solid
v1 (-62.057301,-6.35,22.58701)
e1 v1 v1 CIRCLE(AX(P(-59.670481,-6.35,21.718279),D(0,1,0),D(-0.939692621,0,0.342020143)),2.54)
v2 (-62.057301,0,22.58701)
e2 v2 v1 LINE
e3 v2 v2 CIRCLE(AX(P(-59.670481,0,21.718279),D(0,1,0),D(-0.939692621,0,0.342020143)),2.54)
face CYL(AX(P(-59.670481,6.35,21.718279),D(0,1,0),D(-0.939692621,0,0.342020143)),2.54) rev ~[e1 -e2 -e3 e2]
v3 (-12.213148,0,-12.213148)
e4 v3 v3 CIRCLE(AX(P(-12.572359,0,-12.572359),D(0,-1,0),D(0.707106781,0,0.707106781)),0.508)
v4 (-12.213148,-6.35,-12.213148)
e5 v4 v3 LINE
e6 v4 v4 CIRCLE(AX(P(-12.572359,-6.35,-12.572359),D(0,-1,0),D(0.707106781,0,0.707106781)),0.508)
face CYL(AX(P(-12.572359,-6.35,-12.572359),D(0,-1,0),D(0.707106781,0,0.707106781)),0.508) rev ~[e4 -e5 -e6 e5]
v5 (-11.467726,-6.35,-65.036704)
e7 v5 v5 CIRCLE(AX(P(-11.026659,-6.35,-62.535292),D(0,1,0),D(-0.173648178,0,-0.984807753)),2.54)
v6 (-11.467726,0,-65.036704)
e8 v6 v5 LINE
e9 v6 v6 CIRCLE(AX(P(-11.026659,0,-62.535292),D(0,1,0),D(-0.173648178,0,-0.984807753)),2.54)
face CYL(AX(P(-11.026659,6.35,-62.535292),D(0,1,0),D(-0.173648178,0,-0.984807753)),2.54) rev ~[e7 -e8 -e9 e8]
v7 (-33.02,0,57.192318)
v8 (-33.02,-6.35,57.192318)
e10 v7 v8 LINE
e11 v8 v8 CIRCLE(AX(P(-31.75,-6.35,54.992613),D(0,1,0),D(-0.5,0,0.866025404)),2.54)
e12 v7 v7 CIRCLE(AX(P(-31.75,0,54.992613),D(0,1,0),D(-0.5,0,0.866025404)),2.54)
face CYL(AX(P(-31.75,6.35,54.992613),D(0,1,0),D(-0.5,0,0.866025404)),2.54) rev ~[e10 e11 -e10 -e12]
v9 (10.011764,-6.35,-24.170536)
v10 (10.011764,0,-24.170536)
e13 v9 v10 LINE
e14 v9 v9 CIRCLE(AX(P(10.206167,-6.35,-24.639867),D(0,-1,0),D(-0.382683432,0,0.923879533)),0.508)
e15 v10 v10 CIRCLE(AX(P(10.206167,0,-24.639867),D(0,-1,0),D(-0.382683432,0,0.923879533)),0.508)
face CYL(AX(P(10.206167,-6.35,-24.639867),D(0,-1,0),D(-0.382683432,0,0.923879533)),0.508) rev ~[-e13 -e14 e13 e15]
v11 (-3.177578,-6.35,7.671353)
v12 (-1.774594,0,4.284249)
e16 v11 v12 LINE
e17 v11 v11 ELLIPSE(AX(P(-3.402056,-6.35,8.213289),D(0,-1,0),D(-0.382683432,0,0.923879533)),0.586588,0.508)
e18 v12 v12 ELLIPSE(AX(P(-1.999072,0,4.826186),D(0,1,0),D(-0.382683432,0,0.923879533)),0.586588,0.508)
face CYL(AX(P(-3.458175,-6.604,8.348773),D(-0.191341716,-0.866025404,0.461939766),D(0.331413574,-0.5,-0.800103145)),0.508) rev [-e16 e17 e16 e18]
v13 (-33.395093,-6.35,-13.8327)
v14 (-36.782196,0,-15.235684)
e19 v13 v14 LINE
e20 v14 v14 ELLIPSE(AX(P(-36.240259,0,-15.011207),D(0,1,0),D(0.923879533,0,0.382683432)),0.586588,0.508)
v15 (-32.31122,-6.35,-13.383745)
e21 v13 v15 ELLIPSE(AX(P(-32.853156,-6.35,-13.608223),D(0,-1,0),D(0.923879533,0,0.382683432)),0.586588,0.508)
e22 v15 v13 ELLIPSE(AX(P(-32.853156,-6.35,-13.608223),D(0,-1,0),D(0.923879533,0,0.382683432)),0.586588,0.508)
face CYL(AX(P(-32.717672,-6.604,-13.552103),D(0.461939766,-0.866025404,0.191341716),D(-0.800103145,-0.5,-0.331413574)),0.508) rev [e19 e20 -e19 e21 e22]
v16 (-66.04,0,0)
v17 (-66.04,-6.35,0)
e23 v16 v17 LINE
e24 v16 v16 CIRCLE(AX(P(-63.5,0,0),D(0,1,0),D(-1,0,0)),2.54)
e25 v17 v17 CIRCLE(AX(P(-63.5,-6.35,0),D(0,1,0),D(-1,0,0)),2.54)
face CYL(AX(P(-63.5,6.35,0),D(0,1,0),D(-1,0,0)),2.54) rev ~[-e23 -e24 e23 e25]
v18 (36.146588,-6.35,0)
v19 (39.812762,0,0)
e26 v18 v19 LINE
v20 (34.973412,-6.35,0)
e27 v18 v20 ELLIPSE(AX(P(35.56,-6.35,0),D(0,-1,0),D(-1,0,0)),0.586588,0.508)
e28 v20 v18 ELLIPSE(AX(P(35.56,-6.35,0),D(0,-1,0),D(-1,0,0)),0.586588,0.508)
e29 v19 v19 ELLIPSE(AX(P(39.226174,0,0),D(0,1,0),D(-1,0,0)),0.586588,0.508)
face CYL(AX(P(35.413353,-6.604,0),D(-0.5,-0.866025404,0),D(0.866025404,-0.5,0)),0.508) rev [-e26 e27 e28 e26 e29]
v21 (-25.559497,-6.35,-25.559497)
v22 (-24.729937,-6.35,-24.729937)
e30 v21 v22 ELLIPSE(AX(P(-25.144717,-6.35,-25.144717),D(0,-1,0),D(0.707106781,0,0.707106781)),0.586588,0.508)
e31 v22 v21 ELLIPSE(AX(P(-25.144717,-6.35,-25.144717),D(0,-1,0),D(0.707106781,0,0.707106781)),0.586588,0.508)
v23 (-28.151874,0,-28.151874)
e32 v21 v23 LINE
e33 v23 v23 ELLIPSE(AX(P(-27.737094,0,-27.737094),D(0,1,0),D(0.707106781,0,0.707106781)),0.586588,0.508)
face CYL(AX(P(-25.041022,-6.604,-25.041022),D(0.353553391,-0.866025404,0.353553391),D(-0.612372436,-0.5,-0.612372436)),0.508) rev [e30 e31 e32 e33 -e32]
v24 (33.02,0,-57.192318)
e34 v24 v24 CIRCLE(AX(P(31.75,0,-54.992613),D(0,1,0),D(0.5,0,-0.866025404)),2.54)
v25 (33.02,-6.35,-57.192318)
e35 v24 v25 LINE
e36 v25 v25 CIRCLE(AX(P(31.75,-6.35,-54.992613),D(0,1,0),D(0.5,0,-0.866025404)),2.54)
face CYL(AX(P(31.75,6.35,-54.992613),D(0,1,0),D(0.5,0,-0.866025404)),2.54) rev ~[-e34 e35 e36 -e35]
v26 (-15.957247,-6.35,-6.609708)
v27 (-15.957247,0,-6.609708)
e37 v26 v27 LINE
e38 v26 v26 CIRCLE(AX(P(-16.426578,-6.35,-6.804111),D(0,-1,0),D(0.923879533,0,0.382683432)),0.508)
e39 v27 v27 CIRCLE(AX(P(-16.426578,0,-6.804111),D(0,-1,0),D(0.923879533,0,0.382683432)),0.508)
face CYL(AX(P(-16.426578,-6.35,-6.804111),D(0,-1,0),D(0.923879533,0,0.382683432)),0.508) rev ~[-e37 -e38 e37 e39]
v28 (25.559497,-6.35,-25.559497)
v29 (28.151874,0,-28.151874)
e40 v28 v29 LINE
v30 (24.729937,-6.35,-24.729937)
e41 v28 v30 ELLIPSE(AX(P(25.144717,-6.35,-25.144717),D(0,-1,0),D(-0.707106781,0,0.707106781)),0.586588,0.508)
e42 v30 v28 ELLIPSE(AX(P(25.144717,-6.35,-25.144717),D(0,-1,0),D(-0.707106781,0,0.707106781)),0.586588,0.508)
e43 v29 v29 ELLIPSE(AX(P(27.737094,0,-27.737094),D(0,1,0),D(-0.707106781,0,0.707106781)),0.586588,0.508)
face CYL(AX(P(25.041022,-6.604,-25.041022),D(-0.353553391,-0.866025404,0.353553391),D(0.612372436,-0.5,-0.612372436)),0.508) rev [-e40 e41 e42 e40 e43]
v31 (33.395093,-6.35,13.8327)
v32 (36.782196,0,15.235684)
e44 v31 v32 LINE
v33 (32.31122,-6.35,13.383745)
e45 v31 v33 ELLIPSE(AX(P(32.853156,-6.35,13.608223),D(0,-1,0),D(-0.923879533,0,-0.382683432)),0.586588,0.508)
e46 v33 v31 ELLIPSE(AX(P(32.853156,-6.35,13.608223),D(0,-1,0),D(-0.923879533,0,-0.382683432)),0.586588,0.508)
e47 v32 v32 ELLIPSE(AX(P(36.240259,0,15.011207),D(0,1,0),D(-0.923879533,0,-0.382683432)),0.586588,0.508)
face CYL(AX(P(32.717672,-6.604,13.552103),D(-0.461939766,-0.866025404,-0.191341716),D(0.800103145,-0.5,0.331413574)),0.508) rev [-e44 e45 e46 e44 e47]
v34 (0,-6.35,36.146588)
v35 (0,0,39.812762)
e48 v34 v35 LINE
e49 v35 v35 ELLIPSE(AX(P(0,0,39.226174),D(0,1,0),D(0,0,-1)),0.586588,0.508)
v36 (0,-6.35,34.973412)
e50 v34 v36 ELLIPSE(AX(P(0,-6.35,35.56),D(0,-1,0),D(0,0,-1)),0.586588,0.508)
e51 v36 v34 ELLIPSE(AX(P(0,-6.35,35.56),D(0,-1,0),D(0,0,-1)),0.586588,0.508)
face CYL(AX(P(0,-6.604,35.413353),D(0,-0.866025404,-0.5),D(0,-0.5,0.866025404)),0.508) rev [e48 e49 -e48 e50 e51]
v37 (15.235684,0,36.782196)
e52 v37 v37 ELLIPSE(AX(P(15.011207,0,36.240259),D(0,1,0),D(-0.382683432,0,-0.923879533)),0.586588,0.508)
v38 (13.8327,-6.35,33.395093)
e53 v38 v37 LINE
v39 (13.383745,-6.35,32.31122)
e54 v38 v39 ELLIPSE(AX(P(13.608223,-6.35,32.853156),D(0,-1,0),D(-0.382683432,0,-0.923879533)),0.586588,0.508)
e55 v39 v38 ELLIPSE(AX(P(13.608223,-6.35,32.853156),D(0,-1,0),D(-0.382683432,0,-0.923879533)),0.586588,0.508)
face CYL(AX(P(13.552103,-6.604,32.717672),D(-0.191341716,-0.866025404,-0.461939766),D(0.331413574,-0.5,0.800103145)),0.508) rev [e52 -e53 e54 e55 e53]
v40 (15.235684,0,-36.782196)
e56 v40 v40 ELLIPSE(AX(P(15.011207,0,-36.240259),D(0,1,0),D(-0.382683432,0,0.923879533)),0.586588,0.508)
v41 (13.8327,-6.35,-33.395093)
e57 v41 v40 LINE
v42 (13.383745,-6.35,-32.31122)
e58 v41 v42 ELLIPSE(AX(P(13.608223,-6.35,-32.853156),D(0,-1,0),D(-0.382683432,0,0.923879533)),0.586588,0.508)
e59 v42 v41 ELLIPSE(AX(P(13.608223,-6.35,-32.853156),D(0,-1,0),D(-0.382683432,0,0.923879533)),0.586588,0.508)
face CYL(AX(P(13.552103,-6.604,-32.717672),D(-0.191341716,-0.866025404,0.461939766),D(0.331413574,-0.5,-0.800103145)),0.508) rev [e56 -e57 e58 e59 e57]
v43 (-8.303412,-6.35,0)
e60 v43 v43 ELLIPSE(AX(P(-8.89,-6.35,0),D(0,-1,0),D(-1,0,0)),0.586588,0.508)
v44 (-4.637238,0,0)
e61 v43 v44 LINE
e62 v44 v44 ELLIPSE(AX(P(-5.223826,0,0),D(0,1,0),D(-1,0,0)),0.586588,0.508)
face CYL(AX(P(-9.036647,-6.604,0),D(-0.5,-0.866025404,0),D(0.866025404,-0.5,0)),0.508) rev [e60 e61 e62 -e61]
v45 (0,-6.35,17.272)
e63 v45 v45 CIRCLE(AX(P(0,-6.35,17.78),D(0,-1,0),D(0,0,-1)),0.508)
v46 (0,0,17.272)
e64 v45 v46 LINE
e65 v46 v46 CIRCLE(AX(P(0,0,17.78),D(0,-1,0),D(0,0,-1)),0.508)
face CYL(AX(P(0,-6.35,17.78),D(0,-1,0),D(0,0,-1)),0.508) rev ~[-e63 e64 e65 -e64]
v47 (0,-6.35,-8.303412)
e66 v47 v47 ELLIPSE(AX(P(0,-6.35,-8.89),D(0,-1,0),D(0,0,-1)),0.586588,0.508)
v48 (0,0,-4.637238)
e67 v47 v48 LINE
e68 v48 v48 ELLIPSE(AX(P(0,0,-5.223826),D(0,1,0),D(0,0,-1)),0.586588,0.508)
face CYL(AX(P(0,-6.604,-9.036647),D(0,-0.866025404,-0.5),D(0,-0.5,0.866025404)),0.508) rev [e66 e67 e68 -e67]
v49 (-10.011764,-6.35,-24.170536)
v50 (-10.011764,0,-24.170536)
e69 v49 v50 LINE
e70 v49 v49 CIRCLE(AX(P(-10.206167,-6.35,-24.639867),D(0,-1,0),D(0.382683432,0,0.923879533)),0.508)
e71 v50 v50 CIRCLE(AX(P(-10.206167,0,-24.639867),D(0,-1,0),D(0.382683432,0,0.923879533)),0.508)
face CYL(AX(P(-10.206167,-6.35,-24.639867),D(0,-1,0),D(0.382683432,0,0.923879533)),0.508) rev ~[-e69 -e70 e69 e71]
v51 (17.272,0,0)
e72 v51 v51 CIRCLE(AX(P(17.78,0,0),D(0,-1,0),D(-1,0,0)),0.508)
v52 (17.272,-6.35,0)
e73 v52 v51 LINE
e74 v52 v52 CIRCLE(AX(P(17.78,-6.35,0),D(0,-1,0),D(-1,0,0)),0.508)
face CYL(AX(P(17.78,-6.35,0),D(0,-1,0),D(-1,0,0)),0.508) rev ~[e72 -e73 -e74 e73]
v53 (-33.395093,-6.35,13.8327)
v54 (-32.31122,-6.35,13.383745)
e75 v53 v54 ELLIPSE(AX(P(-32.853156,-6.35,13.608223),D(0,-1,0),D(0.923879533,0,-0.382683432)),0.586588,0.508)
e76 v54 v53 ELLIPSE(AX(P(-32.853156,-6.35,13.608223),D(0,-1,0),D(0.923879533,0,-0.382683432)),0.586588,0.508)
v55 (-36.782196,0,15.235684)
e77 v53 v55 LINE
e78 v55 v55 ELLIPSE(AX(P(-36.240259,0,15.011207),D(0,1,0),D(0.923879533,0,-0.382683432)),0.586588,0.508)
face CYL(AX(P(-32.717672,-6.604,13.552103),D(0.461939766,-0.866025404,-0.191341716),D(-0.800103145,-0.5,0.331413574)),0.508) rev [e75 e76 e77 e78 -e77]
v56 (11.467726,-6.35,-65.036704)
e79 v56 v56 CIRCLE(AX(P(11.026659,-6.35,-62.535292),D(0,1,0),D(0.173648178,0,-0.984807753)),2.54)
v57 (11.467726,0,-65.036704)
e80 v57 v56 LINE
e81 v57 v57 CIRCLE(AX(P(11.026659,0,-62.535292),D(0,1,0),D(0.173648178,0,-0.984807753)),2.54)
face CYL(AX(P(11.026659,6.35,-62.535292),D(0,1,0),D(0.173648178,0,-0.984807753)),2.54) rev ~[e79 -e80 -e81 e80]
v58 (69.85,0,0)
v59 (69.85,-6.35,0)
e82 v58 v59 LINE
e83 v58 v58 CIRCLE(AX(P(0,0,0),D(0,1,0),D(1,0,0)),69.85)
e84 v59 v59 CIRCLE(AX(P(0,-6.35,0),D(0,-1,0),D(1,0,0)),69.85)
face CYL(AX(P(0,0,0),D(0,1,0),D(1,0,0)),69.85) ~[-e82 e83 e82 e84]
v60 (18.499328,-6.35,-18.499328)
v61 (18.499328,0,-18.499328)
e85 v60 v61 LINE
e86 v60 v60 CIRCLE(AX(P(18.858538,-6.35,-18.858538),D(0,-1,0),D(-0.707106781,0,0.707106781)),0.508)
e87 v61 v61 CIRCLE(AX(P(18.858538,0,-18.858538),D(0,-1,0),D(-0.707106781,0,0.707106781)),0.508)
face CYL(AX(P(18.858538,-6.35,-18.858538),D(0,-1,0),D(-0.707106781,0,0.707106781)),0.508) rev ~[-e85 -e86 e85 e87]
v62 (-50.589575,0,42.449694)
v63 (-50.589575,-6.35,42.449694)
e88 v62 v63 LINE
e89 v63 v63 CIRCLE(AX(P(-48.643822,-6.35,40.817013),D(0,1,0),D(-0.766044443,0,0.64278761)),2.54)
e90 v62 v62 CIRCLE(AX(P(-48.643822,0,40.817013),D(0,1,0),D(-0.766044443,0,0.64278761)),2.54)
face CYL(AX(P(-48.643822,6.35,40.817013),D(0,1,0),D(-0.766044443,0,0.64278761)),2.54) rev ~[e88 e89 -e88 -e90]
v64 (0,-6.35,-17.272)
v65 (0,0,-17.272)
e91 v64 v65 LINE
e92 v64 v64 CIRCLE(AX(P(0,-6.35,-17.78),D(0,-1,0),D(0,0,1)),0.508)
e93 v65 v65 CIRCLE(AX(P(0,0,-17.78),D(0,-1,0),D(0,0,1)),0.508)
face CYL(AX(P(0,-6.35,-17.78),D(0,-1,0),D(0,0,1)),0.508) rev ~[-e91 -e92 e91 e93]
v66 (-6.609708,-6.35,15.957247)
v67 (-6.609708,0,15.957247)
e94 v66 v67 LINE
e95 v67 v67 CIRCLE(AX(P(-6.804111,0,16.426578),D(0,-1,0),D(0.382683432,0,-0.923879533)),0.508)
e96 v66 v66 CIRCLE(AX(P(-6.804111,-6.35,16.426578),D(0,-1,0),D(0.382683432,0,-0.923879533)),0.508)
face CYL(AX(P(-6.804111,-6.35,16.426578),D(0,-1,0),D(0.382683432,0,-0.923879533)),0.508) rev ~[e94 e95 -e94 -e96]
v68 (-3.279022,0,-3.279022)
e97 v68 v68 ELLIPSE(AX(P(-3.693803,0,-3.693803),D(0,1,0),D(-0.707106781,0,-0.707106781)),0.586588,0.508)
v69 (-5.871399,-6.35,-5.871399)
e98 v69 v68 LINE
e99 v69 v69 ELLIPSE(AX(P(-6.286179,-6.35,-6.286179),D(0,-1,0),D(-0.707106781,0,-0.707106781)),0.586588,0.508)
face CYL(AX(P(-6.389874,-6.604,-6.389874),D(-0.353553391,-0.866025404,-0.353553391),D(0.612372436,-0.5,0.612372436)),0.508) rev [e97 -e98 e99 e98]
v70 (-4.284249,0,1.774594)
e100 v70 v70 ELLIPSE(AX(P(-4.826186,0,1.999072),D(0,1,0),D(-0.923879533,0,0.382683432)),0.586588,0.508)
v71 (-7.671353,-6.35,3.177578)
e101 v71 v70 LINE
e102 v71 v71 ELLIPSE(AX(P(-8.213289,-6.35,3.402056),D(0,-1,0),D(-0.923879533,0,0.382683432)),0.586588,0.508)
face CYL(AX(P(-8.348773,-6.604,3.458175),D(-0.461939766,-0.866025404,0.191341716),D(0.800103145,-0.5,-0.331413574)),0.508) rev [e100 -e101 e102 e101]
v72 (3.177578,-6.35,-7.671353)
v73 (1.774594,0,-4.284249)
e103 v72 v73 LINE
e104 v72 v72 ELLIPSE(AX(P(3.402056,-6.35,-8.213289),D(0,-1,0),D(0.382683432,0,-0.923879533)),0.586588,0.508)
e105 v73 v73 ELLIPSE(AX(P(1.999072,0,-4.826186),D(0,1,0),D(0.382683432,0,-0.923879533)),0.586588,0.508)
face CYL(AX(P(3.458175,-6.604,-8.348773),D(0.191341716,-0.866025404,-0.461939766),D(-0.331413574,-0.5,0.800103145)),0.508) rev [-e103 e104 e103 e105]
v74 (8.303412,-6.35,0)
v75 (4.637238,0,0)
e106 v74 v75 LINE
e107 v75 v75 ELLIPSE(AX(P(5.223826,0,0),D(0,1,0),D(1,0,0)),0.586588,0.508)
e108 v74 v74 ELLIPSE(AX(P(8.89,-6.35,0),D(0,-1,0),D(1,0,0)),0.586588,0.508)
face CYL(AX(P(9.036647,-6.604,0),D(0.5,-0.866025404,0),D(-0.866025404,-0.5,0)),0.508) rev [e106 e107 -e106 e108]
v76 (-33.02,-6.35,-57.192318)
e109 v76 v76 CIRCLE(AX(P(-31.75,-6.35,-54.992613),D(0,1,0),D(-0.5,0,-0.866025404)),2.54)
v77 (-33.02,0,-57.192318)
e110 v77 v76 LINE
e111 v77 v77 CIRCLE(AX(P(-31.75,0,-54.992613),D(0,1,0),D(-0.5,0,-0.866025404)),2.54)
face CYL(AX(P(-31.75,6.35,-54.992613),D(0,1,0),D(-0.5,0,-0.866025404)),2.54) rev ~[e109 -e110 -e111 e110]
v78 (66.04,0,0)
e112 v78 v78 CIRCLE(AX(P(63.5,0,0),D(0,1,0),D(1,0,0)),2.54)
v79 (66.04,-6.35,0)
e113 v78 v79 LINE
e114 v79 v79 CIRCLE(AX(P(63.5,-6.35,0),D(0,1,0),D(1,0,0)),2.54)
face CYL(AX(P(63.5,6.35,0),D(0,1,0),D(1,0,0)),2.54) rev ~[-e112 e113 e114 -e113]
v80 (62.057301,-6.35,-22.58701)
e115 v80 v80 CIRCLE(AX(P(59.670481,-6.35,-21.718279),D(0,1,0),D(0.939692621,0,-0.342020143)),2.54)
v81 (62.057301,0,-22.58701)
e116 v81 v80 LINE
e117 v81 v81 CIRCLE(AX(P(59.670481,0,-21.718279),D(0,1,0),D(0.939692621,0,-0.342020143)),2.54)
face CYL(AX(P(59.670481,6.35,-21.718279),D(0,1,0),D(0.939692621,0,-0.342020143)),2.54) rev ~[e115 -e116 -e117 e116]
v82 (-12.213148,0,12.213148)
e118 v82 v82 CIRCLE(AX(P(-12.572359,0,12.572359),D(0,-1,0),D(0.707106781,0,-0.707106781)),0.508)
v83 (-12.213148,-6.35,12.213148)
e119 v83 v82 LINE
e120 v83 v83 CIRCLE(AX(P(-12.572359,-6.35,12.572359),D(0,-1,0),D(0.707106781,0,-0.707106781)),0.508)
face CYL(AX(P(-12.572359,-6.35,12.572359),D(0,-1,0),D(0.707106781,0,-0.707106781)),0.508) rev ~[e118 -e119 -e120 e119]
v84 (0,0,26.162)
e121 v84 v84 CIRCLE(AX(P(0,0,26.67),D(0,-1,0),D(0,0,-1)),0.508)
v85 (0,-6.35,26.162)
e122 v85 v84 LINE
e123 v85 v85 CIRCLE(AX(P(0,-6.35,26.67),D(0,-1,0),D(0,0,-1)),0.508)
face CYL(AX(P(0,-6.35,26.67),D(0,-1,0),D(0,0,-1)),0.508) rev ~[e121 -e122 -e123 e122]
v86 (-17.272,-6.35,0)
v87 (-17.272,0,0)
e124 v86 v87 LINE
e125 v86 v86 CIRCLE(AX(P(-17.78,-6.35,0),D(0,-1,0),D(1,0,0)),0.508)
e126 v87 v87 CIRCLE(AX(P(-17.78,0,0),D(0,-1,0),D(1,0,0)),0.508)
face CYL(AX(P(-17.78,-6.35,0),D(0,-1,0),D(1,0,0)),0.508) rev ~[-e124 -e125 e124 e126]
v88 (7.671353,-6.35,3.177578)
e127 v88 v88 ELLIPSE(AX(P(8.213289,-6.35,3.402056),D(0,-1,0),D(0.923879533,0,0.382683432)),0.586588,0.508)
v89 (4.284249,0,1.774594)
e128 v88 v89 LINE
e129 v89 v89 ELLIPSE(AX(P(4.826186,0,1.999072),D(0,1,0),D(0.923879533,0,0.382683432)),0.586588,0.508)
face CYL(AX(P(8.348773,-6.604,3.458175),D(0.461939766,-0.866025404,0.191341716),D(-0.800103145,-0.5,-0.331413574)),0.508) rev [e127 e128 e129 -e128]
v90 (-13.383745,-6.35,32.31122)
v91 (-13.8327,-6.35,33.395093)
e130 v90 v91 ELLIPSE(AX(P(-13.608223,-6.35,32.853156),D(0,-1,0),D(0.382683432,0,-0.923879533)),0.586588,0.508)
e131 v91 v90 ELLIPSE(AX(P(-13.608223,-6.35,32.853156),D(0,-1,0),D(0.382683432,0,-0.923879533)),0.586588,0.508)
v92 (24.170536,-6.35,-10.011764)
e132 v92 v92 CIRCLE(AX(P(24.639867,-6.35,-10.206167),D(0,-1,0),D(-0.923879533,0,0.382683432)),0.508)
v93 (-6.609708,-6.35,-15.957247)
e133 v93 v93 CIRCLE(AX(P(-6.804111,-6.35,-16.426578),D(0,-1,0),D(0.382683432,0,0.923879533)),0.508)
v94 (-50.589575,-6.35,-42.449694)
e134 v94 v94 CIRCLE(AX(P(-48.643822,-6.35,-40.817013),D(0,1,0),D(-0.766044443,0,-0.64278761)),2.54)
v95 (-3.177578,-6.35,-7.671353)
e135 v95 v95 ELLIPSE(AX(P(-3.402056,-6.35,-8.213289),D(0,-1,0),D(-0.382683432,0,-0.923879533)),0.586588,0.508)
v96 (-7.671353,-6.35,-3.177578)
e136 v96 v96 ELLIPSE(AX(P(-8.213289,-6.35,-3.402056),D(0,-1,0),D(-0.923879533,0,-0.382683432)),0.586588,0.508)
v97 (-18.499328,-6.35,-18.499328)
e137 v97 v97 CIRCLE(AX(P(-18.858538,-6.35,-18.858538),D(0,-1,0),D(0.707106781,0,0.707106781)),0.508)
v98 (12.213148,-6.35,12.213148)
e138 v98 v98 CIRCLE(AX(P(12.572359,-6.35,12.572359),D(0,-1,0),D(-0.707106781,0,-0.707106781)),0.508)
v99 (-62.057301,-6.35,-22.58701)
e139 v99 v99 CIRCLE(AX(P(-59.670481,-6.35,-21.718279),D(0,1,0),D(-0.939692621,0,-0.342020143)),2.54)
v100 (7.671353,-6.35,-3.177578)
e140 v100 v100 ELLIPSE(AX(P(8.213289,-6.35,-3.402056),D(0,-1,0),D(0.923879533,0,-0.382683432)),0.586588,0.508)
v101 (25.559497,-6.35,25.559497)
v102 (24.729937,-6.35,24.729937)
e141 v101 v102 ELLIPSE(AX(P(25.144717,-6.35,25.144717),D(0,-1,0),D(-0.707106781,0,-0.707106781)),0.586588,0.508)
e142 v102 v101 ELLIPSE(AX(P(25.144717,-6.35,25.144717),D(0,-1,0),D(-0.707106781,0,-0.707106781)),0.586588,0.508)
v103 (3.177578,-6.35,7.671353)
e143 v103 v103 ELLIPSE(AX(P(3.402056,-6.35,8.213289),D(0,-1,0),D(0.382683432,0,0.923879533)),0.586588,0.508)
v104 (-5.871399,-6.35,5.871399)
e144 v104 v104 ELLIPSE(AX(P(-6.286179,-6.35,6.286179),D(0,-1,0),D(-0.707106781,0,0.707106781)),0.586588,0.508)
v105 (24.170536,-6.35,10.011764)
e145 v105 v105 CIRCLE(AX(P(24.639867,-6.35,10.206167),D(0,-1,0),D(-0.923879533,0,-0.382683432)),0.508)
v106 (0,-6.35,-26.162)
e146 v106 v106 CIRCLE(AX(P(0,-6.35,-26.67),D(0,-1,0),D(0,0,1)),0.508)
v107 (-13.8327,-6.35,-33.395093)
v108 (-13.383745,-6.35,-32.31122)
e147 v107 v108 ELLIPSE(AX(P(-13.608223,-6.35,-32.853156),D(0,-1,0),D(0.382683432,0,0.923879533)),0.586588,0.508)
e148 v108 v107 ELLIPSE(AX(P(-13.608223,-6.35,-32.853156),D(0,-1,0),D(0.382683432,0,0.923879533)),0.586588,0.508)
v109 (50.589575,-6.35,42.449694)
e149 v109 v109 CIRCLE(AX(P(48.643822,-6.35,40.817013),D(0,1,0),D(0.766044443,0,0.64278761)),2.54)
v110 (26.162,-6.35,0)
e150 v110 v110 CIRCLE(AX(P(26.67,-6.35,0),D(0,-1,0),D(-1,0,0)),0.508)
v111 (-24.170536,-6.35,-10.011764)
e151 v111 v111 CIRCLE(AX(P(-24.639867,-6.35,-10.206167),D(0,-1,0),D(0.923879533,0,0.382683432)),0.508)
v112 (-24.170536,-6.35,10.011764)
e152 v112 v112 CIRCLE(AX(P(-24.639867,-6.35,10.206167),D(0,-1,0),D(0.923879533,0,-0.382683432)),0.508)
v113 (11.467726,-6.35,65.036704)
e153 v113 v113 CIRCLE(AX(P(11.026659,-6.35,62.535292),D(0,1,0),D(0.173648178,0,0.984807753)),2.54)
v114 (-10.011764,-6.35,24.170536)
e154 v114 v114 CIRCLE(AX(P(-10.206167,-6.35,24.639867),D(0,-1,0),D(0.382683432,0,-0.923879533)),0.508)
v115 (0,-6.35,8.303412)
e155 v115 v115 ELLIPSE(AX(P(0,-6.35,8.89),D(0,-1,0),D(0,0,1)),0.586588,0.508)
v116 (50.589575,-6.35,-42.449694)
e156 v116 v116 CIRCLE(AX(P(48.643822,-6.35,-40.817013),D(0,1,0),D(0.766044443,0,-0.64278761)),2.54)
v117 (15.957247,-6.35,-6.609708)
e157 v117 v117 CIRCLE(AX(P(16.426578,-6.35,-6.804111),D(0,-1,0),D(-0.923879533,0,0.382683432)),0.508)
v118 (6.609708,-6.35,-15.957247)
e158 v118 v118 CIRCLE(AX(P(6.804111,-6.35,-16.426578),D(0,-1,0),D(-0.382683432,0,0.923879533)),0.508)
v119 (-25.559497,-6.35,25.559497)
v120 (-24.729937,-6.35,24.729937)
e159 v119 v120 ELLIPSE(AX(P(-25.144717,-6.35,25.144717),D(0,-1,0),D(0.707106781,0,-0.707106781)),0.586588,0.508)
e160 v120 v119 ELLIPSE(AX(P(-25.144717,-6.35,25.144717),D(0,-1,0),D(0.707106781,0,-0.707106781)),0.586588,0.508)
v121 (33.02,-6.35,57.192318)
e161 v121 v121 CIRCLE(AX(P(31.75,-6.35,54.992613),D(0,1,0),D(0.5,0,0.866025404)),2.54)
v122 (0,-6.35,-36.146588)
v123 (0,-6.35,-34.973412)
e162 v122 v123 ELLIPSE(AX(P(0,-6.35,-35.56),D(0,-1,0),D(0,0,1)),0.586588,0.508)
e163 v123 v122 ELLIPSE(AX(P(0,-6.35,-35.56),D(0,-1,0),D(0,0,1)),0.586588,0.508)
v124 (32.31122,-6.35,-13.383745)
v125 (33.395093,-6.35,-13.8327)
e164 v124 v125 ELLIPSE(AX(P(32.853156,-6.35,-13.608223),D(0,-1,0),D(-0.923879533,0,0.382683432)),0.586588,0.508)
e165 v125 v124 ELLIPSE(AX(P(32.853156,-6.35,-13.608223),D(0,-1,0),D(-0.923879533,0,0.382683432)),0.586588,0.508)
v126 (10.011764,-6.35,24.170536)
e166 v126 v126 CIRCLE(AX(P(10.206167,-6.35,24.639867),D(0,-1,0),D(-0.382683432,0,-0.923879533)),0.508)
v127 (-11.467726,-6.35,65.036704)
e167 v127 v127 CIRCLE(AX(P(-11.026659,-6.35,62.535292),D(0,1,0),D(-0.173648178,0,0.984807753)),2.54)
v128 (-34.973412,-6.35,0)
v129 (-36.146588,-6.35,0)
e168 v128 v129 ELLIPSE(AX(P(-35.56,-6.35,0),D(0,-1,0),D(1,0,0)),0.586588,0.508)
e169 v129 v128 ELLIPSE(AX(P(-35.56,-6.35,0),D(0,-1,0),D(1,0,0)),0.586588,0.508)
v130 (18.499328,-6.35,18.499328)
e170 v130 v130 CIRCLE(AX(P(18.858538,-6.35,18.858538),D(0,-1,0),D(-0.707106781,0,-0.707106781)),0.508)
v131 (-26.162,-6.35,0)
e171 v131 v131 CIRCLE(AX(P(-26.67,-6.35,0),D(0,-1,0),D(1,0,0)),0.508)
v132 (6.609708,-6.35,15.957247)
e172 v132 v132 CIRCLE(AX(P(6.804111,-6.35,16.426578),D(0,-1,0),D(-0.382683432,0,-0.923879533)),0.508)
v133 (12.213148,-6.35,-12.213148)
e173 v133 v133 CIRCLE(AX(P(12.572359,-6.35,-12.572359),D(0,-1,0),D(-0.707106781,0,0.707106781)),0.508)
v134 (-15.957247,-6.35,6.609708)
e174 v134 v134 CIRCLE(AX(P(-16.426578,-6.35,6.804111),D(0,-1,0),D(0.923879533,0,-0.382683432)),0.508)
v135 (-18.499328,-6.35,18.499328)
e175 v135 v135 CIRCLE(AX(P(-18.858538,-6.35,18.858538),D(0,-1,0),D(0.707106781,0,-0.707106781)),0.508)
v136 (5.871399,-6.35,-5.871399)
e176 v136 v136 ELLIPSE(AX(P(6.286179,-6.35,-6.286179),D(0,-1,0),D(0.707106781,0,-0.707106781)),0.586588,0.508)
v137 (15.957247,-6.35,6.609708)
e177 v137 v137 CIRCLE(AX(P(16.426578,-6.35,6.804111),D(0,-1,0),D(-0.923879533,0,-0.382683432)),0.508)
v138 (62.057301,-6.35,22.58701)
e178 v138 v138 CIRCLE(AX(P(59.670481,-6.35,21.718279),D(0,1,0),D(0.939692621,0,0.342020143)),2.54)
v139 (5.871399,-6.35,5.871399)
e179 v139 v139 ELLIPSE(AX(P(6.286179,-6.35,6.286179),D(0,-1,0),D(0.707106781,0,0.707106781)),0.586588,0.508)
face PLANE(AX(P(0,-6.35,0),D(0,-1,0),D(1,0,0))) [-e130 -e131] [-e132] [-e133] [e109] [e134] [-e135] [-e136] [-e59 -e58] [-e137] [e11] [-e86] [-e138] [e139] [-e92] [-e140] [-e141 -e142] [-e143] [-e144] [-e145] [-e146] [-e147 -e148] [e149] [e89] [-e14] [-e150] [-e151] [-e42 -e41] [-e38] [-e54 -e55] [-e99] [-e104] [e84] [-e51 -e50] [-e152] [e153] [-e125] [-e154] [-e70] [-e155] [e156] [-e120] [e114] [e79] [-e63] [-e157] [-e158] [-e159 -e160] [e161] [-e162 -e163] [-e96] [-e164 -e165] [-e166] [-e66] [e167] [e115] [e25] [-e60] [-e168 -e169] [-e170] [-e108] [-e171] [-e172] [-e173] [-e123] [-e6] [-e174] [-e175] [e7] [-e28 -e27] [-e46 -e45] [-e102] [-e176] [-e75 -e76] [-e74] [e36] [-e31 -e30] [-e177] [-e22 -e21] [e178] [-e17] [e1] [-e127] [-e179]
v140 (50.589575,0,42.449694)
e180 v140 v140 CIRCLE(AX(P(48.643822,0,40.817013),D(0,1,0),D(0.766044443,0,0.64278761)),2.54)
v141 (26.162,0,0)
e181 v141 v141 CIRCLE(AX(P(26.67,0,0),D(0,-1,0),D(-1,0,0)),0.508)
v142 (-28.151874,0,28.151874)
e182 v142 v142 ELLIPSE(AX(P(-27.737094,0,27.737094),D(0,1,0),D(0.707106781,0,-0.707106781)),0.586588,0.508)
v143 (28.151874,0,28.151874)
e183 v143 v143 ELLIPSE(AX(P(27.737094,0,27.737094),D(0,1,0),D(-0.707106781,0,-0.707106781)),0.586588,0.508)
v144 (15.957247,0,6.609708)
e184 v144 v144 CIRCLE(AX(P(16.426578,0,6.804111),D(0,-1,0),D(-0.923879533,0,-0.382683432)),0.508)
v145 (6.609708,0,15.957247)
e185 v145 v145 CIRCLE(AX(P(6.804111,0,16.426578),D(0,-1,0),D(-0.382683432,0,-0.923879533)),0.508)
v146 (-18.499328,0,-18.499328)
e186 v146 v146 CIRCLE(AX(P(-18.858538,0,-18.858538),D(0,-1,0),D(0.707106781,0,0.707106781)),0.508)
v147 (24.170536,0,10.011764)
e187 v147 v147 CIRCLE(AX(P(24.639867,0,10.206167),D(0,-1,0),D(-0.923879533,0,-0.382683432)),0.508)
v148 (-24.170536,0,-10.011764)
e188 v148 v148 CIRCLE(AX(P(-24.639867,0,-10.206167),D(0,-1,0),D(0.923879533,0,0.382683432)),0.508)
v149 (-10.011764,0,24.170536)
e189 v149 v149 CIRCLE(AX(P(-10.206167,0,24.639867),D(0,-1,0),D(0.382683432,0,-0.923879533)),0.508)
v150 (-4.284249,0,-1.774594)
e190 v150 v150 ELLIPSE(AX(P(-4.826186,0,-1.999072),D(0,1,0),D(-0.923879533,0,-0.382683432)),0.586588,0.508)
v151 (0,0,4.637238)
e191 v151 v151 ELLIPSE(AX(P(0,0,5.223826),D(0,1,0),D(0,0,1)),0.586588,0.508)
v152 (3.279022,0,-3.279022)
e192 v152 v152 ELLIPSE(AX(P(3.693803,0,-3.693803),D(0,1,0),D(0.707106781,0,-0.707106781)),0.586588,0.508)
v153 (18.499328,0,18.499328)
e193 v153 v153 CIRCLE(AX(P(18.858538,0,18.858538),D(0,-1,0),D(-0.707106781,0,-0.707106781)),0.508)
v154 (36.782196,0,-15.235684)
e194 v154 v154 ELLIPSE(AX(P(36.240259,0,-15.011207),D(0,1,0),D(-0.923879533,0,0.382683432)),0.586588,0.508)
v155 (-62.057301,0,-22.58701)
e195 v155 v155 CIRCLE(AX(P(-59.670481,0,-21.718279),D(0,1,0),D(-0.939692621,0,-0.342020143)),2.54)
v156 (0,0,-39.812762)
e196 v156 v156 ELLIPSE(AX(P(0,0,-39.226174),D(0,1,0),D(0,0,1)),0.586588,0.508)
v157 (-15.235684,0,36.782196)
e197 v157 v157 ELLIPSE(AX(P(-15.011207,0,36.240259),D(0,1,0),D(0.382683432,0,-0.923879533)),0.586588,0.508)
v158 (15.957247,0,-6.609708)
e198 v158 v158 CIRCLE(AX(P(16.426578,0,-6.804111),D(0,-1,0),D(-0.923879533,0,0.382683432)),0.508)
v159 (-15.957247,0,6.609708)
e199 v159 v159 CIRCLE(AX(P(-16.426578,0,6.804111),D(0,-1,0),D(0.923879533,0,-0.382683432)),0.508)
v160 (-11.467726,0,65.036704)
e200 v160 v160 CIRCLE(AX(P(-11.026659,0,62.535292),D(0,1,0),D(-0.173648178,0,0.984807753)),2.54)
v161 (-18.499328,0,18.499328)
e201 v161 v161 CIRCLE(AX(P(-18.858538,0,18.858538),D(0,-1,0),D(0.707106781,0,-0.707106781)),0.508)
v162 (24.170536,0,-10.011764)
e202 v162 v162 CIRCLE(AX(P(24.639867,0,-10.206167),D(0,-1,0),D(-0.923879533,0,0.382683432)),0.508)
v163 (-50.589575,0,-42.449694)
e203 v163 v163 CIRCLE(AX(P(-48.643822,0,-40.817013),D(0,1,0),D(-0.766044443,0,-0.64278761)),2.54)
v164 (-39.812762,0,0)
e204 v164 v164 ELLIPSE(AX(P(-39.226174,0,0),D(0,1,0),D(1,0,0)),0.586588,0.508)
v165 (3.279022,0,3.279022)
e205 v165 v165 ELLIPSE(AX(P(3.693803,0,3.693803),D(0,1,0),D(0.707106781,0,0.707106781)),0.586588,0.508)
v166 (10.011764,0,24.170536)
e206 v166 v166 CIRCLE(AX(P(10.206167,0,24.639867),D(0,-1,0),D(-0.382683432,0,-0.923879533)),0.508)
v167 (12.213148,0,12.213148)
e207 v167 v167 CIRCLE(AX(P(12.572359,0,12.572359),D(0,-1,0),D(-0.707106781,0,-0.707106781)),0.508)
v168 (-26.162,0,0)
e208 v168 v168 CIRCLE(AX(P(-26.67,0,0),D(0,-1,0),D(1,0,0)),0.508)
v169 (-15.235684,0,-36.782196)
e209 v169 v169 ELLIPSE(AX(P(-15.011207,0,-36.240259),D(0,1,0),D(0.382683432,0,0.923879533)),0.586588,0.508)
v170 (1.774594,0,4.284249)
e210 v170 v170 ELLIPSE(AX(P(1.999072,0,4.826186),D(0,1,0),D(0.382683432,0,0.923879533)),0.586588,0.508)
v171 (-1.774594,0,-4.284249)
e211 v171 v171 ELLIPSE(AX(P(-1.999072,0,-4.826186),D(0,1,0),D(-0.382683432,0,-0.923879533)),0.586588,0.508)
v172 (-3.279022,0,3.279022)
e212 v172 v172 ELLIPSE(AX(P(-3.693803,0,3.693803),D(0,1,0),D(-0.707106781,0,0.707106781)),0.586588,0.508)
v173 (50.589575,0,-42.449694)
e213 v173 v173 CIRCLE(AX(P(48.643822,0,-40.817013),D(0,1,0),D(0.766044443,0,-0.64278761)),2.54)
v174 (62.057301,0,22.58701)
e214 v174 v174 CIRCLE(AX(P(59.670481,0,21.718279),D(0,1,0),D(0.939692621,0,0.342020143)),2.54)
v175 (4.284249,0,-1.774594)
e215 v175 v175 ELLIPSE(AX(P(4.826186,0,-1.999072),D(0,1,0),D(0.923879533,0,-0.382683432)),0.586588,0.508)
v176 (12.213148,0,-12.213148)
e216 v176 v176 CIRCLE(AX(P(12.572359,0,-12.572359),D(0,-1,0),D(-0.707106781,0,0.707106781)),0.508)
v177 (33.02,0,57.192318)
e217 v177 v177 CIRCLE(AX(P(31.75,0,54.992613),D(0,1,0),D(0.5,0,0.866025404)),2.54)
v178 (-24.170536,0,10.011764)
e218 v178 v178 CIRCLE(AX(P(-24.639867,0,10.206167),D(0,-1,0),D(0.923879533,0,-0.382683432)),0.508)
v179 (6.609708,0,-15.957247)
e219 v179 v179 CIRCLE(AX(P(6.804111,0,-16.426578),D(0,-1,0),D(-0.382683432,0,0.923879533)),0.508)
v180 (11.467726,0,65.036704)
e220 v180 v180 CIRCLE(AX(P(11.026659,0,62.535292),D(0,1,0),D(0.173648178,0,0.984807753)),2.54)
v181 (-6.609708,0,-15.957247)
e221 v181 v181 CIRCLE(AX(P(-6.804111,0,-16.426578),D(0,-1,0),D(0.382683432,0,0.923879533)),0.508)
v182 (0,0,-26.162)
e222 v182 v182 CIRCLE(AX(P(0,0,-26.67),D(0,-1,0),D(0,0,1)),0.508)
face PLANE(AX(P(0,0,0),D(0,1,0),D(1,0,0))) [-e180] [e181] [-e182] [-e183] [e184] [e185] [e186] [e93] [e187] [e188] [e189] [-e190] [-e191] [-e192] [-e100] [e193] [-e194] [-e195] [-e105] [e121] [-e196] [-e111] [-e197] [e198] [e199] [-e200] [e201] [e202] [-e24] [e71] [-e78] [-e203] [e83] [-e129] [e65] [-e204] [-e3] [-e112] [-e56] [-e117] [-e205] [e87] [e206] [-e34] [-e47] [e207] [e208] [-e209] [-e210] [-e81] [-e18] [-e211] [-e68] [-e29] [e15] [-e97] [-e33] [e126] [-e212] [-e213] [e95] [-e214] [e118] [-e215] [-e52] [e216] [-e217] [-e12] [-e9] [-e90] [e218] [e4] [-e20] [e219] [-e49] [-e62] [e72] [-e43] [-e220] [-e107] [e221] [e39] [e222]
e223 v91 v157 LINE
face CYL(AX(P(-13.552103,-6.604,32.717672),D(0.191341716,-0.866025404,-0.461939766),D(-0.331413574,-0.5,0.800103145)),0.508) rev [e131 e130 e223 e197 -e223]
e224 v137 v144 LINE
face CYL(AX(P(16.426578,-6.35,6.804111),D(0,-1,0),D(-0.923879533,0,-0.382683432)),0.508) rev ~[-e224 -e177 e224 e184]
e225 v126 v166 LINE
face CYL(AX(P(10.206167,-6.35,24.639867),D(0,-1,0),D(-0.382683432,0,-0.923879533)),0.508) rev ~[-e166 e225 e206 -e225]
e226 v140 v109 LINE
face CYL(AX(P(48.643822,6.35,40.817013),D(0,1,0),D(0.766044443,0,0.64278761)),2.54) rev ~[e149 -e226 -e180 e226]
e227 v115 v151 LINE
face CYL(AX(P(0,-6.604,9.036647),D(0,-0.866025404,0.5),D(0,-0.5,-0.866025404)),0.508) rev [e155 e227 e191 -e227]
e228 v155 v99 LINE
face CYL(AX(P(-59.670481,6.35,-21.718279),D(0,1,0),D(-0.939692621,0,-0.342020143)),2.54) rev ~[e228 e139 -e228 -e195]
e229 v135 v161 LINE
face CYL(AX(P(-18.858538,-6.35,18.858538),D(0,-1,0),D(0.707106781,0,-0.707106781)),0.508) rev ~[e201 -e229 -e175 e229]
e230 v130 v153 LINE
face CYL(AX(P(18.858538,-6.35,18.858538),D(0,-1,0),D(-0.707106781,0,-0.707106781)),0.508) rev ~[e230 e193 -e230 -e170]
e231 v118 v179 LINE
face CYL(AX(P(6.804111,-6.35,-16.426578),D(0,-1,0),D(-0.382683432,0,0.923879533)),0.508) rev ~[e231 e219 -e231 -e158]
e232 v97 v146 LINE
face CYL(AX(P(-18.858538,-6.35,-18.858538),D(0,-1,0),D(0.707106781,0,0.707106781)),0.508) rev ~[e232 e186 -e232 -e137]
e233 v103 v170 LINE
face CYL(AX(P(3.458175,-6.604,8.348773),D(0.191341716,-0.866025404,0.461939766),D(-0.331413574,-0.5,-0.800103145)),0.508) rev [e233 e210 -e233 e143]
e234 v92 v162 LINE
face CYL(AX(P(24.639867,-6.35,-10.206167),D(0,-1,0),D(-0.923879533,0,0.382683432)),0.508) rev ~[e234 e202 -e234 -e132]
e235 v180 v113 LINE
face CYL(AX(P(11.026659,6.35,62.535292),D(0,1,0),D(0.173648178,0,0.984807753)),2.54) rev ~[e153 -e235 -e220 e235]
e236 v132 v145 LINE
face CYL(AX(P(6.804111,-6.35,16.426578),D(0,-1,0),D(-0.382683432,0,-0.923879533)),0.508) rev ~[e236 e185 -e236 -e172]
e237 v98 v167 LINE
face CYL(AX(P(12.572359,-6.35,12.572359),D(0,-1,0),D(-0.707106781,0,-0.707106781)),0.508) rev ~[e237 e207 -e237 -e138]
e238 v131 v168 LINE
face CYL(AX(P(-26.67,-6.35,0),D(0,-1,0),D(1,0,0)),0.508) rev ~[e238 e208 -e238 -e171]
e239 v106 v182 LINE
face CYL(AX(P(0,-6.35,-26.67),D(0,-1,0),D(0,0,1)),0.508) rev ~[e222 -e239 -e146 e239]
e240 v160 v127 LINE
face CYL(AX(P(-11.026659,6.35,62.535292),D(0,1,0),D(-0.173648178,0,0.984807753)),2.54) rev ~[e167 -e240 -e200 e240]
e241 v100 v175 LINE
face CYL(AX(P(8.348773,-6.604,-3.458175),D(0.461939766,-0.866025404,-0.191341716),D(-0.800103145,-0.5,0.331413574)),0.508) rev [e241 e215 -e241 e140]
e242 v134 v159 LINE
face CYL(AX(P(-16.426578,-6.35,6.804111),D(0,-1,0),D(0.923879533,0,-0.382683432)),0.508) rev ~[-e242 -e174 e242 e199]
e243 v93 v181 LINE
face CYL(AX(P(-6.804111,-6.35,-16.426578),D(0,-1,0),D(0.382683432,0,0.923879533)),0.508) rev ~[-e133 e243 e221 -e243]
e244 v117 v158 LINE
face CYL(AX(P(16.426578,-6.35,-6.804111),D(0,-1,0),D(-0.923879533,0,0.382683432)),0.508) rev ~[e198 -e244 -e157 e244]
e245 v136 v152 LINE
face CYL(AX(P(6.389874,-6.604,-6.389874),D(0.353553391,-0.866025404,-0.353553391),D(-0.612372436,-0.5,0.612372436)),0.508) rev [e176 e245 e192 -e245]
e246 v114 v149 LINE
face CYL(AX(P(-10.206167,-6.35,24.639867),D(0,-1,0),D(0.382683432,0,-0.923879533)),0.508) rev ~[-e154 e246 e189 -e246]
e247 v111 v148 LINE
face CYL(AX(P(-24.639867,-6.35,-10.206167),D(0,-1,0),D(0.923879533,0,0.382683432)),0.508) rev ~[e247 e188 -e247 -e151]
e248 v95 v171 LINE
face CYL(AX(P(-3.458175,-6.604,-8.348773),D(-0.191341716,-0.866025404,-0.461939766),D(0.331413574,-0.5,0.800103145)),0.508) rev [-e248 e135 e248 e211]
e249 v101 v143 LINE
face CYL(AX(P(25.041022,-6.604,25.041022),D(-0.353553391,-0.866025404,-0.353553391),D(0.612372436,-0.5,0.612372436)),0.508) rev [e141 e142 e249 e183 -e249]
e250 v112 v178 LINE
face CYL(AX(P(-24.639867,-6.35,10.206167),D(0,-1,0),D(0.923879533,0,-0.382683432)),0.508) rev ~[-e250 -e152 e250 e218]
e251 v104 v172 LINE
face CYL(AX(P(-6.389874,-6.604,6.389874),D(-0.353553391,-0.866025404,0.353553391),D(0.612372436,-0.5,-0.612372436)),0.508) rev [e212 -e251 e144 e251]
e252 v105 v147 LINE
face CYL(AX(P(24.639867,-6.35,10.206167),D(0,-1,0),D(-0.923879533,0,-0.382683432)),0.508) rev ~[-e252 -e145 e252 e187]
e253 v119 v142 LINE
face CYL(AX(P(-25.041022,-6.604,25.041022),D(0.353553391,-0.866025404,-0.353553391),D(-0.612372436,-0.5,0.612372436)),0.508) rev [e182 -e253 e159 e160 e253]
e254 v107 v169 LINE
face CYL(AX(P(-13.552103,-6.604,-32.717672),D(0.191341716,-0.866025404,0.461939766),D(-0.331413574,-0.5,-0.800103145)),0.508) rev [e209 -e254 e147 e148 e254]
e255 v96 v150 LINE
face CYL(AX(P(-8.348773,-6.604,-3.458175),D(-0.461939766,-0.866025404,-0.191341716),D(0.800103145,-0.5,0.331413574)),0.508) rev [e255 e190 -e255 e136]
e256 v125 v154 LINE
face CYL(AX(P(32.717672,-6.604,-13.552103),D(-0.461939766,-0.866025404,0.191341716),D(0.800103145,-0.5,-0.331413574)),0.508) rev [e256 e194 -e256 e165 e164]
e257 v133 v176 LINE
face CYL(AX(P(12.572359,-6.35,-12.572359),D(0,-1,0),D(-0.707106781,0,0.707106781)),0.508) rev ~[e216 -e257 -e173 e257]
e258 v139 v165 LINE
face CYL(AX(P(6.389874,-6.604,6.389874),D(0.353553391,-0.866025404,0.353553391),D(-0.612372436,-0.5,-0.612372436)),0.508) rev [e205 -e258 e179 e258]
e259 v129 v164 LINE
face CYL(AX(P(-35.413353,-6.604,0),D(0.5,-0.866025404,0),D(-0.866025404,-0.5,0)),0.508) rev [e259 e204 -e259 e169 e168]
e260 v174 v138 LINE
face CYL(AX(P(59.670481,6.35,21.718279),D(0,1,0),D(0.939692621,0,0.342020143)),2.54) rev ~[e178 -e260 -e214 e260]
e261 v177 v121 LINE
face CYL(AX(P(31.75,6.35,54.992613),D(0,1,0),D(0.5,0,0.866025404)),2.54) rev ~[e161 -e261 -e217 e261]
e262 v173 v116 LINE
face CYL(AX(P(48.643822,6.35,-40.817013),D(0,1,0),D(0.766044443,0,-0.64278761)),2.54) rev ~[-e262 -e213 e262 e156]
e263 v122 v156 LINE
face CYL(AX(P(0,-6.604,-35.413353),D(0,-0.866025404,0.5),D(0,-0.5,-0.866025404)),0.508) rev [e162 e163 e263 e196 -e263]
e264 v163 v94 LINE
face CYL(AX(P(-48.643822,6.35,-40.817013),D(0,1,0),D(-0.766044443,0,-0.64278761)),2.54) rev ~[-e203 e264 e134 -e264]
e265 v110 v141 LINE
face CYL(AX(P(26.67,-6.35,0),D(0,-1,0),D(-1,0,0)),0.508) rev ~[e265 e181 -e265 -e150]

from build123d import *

# Parameters (mm, degrees)
SKETCH1_R           = 69.85
BOSS_EXTRUDE1_DEPTH = 6.35
SKETCH2_R           = 69.85
BOSS_EXTRUDE2_DEPTH = 6.35
SKETCH4_R           = 6.35
CUT_EXTRUDE1_DEPTH  = 6.35
SKETCH5_R           = 26.19375
SKETCH5_R_2         = 12.7
CUT_EXTRUDE2_DEPTH  = 6.35
SKETCH6_R           = 36.83
SKETCH6_R_2         = 31.75
CUT_EXTRUDE3_DEPTH  = 6.35
CUT_EXTRUDE4_START  = 8.505524
SKETCH8_R           = 0.508
CUT_EXTRUDE4_DEPTH  = 15.251285
SKETCH9_R           = 0.508
CUT_EXTRUDE5_DEPTH  = 12.7
CUT_EXTRUDE6_START  = 11.006381
SKETCH11_R          = 0.508
CUT_EXTRUDE6_DEPTH  = 7.918937
CIRPATTERN1_COUNT   = 16
SKETCH12_R          = 2.54
CUT_EXTRUDE7_DEPTH  = 13.7
CIRPATTERN2_COUNT   = 18
SKETCH13_R          = 10.3632
SKETCH13_R_2        = 7.7216
CUT_EXTRUDE8_DEPTH  = 1.3208
SKETCH14_R          = 30.2133
SKETCH14_R_2        = 27.5717
CUT_EXTRUDE9_DEPTH  = 1.3208
SKETCH16_R          = 46.0883
SKETCH16_R_2        = 43.4467
CUT_EXTRUDE10_DEPTH = 1.3208
SKETCH20_R          = 69.85
CUT_EXTRUDE11_DEPTH = 6.35


with BuildPart() as part:
    # Sketch1 → Boss-Extrude1 (new body)
    with BuildSketch(Plane(origin=(0, 0, 0), x_dir=(1, 0, 0), z_dir=(0, 1, 0))):
        Circle(SKETCH1_R)
    extrude(amount=BOSS_EXTRUDE1_DEPTH)

    # Sketch2 → Boss-Extrude2 (add)
    with BuildSketch(Plane.XZ):
        Circle(SKETCH2_R)
    extrude(amount=BOSS_EXTRUDE2_DEPTH)

    # Sketch4 → Cut-Extrude1 (cut)
    with BuildSketch(Plane(origin=(0, 6.35, 0), x_dir=(1, 0, 0), z_dir=(0, 1, 0))):
        Circle(SKETCH4_R)
    extrude(amount=-CUT_EXTRUDE1_DEPTH, mode=Mode.SUBTRACT)

    # Sketch5 → Cut-Extrude2 (cut)
    with BuildSketch(Plane(origin=(0, 6.35, 0), x_dir=(1, 0, 0), z_dir=(0, 1, 0))):
        Circle(SKETCH5_R)
        Circle(SKETCH5_R_2, mode=Mode.SUBTRACT)
    extrude(amount=-CUT_EXTRUDE2_DEPTH, mode=Mode.SUBTRACT)

    # Sketch6 → Cut-Extrude3 (cut)
    with BuildSketch(Plane(origin=(0, 6.35, 0), x_dir=(1, 0, 0), z_dir=(0, 1, 0))):
        Circle(SKETCH6_R)
        Circle(SKETCH6_R_2, mode=Mode.SUBTRACT)
    extrude(amount=-CUT_EXTRUDE3_DEPTH, mode=Mode.SUBTRACT)

    # Sketch8 → Cut-Extrude4 (cut)
    with BuildSketch(Plane(origin=(-1.740960292, 3.015431679, 0), x_dir=(-0.866025404, -0.5, 0), z_dir=(-0.5, 0.866025404, 0)).offset(CUT_EXTRUDE4_START)):
        with Locations((33.970863359, 0)):
            Circle(SKETCH8_R)
    cut_extrude4 = extrude(amount=CUT_EXTRUDE4_DEPTH, mode=Mode.SUBTRACT)

    # Sketch9 → Cut-Extrude5 (cut)
    with BuildSketch(Plane.XZ.offset(6.35)):
        with Locations((-26.67, 0)):
            Circle(SKETCH9_R)
        with Locations((-17.78, 0)):
            Circle(SKETCH9_R)
    cut_extrude5 = extrude(amount=-CUT_EXTRUDE5_DEPTH, mode=Mode.SUBTRACT)

    # Sketch11 → Cut-Extrude6 (cut)
    with BuildSketch(Plane(origin=(-10.621968306, -18.397788783, 0), x_dir=(0.866025404, -0.5, 0), z_dir=(0.5, 0.866025404, 0)).offset(CUT_EXTRUDE6_START)):
        with Locations((-4.52396584, 0)):
            Circle(SKETCH11_R)
    cut_extrude6 = extrude(amount=CUT_EXTRUDE6_DEPTH, mode=Mode.SUBTRACT)

    # CirPattern1: Cut-Extrude4, Cut-Extrude5, Cut-Extrude6 ×16 about axis
    cirpattern1_axis = Axis((0, 0, 0), (0, 1, 0))
    for i in range(1, CIRPATTERN1_COUNT):
        add(cut_extrude4.rotate(cirpattern1_axis, i * 360 / CIRPATTERN1_COUNT), mode=Mode.SUBTRACT)
        add(cut_extrude5.rotate(cirpattern1_axis, i * 360 / CIRPATTERN1_COUNT), mode=Mode.SUBTRACT)
        add(cut_extrude6.rotate(cirpattern1_axis, i * 360 / CIRPATTERN1_COUNT), mode=Mode.SUBTRACT)

    # Sketch12 → Cut-Extrude7 (cut, through all)
    with BuildSketch(Plane(origin=(0, 6.35, 0), x_dir=(1, 0, 0), z_dir=(0, 1, 0))):
        with Locations((63.5, 0)):
            Circle(SKETCH12_R)
    cut_extrude7 = extrude(amount=-CUT_EXTRUDE7_DEPTH, mode=Mode.SUBTRACT)

    # CirPattern2: Cut-Extrude7 ×18 about axis
    cirpattern2_axis = Axis((0, 0, 0), (0, 1, 0))
    for i in range(1, CIRPATTERN2_COUNT):
        add(cut_extrude7.rotate(cirpattern2_axis, i * 360 / CIRPATTERN2_COUNT), mode=Mode.SUBTRACT)

    # Sketch13 → Cut-Extrude8 (cut)
    with BuildSketch(Plane(origin=(0, 6.35, 0), x_dir=(1, 0, 0), z_dir=(0, 1, 0))):
        Circle(SKETCH13_R)
        Circle(SKETCH13_R_2, mode=Mode.SUBTRACT)
    extrude(amount=-CUT_EXTRUDE8_DEPTH, mode=Mode.SUBTRACT)

    # Sketch14 → Cut-Extrude9 (cut)
    with BuildSketch(Plane(origin=(0, 6.35, 0), x_dir=(1, 0, 0), z_dir=(0, 1, 0))):
        Circle(SKETCH14_R)
        Circle(SKETCH14_R_2, mode=Mode.SUBTRACT)
    extrude(amount=-CUT_EXTRUDE9_DEPTH, mode=Mode.SUBTRACT)

    # Sketch16 → Cut-Extrude10 (cut)
    with BuildSketch(Plane(origin=(0, 6.35, 0), x_dir=(1, 0, 0), z_dir=(0, 1, 0))):
        Circle(SKETCH16_R)
        Circle(SKETCH16_R_2, mode=Mode.SUBTRACT)
    extrude(amount=-CUT_EXTRUDE10_DEPTH, mode=Mode.SUBTRACT)

    # Sketch20 → Cut-Extrude11 (cut)
    with BuildSketch(Plane(origin=(0, 6.35, 0), x_dir=(1, 0, 0), z_dir=(0, 1, 0))):
        Circle(SKETCH20_R)
    extrude(amount=-CUT_EXTRUDE11_DEPTH, mode=Mode.SUBTRACT)


solid = part.part
